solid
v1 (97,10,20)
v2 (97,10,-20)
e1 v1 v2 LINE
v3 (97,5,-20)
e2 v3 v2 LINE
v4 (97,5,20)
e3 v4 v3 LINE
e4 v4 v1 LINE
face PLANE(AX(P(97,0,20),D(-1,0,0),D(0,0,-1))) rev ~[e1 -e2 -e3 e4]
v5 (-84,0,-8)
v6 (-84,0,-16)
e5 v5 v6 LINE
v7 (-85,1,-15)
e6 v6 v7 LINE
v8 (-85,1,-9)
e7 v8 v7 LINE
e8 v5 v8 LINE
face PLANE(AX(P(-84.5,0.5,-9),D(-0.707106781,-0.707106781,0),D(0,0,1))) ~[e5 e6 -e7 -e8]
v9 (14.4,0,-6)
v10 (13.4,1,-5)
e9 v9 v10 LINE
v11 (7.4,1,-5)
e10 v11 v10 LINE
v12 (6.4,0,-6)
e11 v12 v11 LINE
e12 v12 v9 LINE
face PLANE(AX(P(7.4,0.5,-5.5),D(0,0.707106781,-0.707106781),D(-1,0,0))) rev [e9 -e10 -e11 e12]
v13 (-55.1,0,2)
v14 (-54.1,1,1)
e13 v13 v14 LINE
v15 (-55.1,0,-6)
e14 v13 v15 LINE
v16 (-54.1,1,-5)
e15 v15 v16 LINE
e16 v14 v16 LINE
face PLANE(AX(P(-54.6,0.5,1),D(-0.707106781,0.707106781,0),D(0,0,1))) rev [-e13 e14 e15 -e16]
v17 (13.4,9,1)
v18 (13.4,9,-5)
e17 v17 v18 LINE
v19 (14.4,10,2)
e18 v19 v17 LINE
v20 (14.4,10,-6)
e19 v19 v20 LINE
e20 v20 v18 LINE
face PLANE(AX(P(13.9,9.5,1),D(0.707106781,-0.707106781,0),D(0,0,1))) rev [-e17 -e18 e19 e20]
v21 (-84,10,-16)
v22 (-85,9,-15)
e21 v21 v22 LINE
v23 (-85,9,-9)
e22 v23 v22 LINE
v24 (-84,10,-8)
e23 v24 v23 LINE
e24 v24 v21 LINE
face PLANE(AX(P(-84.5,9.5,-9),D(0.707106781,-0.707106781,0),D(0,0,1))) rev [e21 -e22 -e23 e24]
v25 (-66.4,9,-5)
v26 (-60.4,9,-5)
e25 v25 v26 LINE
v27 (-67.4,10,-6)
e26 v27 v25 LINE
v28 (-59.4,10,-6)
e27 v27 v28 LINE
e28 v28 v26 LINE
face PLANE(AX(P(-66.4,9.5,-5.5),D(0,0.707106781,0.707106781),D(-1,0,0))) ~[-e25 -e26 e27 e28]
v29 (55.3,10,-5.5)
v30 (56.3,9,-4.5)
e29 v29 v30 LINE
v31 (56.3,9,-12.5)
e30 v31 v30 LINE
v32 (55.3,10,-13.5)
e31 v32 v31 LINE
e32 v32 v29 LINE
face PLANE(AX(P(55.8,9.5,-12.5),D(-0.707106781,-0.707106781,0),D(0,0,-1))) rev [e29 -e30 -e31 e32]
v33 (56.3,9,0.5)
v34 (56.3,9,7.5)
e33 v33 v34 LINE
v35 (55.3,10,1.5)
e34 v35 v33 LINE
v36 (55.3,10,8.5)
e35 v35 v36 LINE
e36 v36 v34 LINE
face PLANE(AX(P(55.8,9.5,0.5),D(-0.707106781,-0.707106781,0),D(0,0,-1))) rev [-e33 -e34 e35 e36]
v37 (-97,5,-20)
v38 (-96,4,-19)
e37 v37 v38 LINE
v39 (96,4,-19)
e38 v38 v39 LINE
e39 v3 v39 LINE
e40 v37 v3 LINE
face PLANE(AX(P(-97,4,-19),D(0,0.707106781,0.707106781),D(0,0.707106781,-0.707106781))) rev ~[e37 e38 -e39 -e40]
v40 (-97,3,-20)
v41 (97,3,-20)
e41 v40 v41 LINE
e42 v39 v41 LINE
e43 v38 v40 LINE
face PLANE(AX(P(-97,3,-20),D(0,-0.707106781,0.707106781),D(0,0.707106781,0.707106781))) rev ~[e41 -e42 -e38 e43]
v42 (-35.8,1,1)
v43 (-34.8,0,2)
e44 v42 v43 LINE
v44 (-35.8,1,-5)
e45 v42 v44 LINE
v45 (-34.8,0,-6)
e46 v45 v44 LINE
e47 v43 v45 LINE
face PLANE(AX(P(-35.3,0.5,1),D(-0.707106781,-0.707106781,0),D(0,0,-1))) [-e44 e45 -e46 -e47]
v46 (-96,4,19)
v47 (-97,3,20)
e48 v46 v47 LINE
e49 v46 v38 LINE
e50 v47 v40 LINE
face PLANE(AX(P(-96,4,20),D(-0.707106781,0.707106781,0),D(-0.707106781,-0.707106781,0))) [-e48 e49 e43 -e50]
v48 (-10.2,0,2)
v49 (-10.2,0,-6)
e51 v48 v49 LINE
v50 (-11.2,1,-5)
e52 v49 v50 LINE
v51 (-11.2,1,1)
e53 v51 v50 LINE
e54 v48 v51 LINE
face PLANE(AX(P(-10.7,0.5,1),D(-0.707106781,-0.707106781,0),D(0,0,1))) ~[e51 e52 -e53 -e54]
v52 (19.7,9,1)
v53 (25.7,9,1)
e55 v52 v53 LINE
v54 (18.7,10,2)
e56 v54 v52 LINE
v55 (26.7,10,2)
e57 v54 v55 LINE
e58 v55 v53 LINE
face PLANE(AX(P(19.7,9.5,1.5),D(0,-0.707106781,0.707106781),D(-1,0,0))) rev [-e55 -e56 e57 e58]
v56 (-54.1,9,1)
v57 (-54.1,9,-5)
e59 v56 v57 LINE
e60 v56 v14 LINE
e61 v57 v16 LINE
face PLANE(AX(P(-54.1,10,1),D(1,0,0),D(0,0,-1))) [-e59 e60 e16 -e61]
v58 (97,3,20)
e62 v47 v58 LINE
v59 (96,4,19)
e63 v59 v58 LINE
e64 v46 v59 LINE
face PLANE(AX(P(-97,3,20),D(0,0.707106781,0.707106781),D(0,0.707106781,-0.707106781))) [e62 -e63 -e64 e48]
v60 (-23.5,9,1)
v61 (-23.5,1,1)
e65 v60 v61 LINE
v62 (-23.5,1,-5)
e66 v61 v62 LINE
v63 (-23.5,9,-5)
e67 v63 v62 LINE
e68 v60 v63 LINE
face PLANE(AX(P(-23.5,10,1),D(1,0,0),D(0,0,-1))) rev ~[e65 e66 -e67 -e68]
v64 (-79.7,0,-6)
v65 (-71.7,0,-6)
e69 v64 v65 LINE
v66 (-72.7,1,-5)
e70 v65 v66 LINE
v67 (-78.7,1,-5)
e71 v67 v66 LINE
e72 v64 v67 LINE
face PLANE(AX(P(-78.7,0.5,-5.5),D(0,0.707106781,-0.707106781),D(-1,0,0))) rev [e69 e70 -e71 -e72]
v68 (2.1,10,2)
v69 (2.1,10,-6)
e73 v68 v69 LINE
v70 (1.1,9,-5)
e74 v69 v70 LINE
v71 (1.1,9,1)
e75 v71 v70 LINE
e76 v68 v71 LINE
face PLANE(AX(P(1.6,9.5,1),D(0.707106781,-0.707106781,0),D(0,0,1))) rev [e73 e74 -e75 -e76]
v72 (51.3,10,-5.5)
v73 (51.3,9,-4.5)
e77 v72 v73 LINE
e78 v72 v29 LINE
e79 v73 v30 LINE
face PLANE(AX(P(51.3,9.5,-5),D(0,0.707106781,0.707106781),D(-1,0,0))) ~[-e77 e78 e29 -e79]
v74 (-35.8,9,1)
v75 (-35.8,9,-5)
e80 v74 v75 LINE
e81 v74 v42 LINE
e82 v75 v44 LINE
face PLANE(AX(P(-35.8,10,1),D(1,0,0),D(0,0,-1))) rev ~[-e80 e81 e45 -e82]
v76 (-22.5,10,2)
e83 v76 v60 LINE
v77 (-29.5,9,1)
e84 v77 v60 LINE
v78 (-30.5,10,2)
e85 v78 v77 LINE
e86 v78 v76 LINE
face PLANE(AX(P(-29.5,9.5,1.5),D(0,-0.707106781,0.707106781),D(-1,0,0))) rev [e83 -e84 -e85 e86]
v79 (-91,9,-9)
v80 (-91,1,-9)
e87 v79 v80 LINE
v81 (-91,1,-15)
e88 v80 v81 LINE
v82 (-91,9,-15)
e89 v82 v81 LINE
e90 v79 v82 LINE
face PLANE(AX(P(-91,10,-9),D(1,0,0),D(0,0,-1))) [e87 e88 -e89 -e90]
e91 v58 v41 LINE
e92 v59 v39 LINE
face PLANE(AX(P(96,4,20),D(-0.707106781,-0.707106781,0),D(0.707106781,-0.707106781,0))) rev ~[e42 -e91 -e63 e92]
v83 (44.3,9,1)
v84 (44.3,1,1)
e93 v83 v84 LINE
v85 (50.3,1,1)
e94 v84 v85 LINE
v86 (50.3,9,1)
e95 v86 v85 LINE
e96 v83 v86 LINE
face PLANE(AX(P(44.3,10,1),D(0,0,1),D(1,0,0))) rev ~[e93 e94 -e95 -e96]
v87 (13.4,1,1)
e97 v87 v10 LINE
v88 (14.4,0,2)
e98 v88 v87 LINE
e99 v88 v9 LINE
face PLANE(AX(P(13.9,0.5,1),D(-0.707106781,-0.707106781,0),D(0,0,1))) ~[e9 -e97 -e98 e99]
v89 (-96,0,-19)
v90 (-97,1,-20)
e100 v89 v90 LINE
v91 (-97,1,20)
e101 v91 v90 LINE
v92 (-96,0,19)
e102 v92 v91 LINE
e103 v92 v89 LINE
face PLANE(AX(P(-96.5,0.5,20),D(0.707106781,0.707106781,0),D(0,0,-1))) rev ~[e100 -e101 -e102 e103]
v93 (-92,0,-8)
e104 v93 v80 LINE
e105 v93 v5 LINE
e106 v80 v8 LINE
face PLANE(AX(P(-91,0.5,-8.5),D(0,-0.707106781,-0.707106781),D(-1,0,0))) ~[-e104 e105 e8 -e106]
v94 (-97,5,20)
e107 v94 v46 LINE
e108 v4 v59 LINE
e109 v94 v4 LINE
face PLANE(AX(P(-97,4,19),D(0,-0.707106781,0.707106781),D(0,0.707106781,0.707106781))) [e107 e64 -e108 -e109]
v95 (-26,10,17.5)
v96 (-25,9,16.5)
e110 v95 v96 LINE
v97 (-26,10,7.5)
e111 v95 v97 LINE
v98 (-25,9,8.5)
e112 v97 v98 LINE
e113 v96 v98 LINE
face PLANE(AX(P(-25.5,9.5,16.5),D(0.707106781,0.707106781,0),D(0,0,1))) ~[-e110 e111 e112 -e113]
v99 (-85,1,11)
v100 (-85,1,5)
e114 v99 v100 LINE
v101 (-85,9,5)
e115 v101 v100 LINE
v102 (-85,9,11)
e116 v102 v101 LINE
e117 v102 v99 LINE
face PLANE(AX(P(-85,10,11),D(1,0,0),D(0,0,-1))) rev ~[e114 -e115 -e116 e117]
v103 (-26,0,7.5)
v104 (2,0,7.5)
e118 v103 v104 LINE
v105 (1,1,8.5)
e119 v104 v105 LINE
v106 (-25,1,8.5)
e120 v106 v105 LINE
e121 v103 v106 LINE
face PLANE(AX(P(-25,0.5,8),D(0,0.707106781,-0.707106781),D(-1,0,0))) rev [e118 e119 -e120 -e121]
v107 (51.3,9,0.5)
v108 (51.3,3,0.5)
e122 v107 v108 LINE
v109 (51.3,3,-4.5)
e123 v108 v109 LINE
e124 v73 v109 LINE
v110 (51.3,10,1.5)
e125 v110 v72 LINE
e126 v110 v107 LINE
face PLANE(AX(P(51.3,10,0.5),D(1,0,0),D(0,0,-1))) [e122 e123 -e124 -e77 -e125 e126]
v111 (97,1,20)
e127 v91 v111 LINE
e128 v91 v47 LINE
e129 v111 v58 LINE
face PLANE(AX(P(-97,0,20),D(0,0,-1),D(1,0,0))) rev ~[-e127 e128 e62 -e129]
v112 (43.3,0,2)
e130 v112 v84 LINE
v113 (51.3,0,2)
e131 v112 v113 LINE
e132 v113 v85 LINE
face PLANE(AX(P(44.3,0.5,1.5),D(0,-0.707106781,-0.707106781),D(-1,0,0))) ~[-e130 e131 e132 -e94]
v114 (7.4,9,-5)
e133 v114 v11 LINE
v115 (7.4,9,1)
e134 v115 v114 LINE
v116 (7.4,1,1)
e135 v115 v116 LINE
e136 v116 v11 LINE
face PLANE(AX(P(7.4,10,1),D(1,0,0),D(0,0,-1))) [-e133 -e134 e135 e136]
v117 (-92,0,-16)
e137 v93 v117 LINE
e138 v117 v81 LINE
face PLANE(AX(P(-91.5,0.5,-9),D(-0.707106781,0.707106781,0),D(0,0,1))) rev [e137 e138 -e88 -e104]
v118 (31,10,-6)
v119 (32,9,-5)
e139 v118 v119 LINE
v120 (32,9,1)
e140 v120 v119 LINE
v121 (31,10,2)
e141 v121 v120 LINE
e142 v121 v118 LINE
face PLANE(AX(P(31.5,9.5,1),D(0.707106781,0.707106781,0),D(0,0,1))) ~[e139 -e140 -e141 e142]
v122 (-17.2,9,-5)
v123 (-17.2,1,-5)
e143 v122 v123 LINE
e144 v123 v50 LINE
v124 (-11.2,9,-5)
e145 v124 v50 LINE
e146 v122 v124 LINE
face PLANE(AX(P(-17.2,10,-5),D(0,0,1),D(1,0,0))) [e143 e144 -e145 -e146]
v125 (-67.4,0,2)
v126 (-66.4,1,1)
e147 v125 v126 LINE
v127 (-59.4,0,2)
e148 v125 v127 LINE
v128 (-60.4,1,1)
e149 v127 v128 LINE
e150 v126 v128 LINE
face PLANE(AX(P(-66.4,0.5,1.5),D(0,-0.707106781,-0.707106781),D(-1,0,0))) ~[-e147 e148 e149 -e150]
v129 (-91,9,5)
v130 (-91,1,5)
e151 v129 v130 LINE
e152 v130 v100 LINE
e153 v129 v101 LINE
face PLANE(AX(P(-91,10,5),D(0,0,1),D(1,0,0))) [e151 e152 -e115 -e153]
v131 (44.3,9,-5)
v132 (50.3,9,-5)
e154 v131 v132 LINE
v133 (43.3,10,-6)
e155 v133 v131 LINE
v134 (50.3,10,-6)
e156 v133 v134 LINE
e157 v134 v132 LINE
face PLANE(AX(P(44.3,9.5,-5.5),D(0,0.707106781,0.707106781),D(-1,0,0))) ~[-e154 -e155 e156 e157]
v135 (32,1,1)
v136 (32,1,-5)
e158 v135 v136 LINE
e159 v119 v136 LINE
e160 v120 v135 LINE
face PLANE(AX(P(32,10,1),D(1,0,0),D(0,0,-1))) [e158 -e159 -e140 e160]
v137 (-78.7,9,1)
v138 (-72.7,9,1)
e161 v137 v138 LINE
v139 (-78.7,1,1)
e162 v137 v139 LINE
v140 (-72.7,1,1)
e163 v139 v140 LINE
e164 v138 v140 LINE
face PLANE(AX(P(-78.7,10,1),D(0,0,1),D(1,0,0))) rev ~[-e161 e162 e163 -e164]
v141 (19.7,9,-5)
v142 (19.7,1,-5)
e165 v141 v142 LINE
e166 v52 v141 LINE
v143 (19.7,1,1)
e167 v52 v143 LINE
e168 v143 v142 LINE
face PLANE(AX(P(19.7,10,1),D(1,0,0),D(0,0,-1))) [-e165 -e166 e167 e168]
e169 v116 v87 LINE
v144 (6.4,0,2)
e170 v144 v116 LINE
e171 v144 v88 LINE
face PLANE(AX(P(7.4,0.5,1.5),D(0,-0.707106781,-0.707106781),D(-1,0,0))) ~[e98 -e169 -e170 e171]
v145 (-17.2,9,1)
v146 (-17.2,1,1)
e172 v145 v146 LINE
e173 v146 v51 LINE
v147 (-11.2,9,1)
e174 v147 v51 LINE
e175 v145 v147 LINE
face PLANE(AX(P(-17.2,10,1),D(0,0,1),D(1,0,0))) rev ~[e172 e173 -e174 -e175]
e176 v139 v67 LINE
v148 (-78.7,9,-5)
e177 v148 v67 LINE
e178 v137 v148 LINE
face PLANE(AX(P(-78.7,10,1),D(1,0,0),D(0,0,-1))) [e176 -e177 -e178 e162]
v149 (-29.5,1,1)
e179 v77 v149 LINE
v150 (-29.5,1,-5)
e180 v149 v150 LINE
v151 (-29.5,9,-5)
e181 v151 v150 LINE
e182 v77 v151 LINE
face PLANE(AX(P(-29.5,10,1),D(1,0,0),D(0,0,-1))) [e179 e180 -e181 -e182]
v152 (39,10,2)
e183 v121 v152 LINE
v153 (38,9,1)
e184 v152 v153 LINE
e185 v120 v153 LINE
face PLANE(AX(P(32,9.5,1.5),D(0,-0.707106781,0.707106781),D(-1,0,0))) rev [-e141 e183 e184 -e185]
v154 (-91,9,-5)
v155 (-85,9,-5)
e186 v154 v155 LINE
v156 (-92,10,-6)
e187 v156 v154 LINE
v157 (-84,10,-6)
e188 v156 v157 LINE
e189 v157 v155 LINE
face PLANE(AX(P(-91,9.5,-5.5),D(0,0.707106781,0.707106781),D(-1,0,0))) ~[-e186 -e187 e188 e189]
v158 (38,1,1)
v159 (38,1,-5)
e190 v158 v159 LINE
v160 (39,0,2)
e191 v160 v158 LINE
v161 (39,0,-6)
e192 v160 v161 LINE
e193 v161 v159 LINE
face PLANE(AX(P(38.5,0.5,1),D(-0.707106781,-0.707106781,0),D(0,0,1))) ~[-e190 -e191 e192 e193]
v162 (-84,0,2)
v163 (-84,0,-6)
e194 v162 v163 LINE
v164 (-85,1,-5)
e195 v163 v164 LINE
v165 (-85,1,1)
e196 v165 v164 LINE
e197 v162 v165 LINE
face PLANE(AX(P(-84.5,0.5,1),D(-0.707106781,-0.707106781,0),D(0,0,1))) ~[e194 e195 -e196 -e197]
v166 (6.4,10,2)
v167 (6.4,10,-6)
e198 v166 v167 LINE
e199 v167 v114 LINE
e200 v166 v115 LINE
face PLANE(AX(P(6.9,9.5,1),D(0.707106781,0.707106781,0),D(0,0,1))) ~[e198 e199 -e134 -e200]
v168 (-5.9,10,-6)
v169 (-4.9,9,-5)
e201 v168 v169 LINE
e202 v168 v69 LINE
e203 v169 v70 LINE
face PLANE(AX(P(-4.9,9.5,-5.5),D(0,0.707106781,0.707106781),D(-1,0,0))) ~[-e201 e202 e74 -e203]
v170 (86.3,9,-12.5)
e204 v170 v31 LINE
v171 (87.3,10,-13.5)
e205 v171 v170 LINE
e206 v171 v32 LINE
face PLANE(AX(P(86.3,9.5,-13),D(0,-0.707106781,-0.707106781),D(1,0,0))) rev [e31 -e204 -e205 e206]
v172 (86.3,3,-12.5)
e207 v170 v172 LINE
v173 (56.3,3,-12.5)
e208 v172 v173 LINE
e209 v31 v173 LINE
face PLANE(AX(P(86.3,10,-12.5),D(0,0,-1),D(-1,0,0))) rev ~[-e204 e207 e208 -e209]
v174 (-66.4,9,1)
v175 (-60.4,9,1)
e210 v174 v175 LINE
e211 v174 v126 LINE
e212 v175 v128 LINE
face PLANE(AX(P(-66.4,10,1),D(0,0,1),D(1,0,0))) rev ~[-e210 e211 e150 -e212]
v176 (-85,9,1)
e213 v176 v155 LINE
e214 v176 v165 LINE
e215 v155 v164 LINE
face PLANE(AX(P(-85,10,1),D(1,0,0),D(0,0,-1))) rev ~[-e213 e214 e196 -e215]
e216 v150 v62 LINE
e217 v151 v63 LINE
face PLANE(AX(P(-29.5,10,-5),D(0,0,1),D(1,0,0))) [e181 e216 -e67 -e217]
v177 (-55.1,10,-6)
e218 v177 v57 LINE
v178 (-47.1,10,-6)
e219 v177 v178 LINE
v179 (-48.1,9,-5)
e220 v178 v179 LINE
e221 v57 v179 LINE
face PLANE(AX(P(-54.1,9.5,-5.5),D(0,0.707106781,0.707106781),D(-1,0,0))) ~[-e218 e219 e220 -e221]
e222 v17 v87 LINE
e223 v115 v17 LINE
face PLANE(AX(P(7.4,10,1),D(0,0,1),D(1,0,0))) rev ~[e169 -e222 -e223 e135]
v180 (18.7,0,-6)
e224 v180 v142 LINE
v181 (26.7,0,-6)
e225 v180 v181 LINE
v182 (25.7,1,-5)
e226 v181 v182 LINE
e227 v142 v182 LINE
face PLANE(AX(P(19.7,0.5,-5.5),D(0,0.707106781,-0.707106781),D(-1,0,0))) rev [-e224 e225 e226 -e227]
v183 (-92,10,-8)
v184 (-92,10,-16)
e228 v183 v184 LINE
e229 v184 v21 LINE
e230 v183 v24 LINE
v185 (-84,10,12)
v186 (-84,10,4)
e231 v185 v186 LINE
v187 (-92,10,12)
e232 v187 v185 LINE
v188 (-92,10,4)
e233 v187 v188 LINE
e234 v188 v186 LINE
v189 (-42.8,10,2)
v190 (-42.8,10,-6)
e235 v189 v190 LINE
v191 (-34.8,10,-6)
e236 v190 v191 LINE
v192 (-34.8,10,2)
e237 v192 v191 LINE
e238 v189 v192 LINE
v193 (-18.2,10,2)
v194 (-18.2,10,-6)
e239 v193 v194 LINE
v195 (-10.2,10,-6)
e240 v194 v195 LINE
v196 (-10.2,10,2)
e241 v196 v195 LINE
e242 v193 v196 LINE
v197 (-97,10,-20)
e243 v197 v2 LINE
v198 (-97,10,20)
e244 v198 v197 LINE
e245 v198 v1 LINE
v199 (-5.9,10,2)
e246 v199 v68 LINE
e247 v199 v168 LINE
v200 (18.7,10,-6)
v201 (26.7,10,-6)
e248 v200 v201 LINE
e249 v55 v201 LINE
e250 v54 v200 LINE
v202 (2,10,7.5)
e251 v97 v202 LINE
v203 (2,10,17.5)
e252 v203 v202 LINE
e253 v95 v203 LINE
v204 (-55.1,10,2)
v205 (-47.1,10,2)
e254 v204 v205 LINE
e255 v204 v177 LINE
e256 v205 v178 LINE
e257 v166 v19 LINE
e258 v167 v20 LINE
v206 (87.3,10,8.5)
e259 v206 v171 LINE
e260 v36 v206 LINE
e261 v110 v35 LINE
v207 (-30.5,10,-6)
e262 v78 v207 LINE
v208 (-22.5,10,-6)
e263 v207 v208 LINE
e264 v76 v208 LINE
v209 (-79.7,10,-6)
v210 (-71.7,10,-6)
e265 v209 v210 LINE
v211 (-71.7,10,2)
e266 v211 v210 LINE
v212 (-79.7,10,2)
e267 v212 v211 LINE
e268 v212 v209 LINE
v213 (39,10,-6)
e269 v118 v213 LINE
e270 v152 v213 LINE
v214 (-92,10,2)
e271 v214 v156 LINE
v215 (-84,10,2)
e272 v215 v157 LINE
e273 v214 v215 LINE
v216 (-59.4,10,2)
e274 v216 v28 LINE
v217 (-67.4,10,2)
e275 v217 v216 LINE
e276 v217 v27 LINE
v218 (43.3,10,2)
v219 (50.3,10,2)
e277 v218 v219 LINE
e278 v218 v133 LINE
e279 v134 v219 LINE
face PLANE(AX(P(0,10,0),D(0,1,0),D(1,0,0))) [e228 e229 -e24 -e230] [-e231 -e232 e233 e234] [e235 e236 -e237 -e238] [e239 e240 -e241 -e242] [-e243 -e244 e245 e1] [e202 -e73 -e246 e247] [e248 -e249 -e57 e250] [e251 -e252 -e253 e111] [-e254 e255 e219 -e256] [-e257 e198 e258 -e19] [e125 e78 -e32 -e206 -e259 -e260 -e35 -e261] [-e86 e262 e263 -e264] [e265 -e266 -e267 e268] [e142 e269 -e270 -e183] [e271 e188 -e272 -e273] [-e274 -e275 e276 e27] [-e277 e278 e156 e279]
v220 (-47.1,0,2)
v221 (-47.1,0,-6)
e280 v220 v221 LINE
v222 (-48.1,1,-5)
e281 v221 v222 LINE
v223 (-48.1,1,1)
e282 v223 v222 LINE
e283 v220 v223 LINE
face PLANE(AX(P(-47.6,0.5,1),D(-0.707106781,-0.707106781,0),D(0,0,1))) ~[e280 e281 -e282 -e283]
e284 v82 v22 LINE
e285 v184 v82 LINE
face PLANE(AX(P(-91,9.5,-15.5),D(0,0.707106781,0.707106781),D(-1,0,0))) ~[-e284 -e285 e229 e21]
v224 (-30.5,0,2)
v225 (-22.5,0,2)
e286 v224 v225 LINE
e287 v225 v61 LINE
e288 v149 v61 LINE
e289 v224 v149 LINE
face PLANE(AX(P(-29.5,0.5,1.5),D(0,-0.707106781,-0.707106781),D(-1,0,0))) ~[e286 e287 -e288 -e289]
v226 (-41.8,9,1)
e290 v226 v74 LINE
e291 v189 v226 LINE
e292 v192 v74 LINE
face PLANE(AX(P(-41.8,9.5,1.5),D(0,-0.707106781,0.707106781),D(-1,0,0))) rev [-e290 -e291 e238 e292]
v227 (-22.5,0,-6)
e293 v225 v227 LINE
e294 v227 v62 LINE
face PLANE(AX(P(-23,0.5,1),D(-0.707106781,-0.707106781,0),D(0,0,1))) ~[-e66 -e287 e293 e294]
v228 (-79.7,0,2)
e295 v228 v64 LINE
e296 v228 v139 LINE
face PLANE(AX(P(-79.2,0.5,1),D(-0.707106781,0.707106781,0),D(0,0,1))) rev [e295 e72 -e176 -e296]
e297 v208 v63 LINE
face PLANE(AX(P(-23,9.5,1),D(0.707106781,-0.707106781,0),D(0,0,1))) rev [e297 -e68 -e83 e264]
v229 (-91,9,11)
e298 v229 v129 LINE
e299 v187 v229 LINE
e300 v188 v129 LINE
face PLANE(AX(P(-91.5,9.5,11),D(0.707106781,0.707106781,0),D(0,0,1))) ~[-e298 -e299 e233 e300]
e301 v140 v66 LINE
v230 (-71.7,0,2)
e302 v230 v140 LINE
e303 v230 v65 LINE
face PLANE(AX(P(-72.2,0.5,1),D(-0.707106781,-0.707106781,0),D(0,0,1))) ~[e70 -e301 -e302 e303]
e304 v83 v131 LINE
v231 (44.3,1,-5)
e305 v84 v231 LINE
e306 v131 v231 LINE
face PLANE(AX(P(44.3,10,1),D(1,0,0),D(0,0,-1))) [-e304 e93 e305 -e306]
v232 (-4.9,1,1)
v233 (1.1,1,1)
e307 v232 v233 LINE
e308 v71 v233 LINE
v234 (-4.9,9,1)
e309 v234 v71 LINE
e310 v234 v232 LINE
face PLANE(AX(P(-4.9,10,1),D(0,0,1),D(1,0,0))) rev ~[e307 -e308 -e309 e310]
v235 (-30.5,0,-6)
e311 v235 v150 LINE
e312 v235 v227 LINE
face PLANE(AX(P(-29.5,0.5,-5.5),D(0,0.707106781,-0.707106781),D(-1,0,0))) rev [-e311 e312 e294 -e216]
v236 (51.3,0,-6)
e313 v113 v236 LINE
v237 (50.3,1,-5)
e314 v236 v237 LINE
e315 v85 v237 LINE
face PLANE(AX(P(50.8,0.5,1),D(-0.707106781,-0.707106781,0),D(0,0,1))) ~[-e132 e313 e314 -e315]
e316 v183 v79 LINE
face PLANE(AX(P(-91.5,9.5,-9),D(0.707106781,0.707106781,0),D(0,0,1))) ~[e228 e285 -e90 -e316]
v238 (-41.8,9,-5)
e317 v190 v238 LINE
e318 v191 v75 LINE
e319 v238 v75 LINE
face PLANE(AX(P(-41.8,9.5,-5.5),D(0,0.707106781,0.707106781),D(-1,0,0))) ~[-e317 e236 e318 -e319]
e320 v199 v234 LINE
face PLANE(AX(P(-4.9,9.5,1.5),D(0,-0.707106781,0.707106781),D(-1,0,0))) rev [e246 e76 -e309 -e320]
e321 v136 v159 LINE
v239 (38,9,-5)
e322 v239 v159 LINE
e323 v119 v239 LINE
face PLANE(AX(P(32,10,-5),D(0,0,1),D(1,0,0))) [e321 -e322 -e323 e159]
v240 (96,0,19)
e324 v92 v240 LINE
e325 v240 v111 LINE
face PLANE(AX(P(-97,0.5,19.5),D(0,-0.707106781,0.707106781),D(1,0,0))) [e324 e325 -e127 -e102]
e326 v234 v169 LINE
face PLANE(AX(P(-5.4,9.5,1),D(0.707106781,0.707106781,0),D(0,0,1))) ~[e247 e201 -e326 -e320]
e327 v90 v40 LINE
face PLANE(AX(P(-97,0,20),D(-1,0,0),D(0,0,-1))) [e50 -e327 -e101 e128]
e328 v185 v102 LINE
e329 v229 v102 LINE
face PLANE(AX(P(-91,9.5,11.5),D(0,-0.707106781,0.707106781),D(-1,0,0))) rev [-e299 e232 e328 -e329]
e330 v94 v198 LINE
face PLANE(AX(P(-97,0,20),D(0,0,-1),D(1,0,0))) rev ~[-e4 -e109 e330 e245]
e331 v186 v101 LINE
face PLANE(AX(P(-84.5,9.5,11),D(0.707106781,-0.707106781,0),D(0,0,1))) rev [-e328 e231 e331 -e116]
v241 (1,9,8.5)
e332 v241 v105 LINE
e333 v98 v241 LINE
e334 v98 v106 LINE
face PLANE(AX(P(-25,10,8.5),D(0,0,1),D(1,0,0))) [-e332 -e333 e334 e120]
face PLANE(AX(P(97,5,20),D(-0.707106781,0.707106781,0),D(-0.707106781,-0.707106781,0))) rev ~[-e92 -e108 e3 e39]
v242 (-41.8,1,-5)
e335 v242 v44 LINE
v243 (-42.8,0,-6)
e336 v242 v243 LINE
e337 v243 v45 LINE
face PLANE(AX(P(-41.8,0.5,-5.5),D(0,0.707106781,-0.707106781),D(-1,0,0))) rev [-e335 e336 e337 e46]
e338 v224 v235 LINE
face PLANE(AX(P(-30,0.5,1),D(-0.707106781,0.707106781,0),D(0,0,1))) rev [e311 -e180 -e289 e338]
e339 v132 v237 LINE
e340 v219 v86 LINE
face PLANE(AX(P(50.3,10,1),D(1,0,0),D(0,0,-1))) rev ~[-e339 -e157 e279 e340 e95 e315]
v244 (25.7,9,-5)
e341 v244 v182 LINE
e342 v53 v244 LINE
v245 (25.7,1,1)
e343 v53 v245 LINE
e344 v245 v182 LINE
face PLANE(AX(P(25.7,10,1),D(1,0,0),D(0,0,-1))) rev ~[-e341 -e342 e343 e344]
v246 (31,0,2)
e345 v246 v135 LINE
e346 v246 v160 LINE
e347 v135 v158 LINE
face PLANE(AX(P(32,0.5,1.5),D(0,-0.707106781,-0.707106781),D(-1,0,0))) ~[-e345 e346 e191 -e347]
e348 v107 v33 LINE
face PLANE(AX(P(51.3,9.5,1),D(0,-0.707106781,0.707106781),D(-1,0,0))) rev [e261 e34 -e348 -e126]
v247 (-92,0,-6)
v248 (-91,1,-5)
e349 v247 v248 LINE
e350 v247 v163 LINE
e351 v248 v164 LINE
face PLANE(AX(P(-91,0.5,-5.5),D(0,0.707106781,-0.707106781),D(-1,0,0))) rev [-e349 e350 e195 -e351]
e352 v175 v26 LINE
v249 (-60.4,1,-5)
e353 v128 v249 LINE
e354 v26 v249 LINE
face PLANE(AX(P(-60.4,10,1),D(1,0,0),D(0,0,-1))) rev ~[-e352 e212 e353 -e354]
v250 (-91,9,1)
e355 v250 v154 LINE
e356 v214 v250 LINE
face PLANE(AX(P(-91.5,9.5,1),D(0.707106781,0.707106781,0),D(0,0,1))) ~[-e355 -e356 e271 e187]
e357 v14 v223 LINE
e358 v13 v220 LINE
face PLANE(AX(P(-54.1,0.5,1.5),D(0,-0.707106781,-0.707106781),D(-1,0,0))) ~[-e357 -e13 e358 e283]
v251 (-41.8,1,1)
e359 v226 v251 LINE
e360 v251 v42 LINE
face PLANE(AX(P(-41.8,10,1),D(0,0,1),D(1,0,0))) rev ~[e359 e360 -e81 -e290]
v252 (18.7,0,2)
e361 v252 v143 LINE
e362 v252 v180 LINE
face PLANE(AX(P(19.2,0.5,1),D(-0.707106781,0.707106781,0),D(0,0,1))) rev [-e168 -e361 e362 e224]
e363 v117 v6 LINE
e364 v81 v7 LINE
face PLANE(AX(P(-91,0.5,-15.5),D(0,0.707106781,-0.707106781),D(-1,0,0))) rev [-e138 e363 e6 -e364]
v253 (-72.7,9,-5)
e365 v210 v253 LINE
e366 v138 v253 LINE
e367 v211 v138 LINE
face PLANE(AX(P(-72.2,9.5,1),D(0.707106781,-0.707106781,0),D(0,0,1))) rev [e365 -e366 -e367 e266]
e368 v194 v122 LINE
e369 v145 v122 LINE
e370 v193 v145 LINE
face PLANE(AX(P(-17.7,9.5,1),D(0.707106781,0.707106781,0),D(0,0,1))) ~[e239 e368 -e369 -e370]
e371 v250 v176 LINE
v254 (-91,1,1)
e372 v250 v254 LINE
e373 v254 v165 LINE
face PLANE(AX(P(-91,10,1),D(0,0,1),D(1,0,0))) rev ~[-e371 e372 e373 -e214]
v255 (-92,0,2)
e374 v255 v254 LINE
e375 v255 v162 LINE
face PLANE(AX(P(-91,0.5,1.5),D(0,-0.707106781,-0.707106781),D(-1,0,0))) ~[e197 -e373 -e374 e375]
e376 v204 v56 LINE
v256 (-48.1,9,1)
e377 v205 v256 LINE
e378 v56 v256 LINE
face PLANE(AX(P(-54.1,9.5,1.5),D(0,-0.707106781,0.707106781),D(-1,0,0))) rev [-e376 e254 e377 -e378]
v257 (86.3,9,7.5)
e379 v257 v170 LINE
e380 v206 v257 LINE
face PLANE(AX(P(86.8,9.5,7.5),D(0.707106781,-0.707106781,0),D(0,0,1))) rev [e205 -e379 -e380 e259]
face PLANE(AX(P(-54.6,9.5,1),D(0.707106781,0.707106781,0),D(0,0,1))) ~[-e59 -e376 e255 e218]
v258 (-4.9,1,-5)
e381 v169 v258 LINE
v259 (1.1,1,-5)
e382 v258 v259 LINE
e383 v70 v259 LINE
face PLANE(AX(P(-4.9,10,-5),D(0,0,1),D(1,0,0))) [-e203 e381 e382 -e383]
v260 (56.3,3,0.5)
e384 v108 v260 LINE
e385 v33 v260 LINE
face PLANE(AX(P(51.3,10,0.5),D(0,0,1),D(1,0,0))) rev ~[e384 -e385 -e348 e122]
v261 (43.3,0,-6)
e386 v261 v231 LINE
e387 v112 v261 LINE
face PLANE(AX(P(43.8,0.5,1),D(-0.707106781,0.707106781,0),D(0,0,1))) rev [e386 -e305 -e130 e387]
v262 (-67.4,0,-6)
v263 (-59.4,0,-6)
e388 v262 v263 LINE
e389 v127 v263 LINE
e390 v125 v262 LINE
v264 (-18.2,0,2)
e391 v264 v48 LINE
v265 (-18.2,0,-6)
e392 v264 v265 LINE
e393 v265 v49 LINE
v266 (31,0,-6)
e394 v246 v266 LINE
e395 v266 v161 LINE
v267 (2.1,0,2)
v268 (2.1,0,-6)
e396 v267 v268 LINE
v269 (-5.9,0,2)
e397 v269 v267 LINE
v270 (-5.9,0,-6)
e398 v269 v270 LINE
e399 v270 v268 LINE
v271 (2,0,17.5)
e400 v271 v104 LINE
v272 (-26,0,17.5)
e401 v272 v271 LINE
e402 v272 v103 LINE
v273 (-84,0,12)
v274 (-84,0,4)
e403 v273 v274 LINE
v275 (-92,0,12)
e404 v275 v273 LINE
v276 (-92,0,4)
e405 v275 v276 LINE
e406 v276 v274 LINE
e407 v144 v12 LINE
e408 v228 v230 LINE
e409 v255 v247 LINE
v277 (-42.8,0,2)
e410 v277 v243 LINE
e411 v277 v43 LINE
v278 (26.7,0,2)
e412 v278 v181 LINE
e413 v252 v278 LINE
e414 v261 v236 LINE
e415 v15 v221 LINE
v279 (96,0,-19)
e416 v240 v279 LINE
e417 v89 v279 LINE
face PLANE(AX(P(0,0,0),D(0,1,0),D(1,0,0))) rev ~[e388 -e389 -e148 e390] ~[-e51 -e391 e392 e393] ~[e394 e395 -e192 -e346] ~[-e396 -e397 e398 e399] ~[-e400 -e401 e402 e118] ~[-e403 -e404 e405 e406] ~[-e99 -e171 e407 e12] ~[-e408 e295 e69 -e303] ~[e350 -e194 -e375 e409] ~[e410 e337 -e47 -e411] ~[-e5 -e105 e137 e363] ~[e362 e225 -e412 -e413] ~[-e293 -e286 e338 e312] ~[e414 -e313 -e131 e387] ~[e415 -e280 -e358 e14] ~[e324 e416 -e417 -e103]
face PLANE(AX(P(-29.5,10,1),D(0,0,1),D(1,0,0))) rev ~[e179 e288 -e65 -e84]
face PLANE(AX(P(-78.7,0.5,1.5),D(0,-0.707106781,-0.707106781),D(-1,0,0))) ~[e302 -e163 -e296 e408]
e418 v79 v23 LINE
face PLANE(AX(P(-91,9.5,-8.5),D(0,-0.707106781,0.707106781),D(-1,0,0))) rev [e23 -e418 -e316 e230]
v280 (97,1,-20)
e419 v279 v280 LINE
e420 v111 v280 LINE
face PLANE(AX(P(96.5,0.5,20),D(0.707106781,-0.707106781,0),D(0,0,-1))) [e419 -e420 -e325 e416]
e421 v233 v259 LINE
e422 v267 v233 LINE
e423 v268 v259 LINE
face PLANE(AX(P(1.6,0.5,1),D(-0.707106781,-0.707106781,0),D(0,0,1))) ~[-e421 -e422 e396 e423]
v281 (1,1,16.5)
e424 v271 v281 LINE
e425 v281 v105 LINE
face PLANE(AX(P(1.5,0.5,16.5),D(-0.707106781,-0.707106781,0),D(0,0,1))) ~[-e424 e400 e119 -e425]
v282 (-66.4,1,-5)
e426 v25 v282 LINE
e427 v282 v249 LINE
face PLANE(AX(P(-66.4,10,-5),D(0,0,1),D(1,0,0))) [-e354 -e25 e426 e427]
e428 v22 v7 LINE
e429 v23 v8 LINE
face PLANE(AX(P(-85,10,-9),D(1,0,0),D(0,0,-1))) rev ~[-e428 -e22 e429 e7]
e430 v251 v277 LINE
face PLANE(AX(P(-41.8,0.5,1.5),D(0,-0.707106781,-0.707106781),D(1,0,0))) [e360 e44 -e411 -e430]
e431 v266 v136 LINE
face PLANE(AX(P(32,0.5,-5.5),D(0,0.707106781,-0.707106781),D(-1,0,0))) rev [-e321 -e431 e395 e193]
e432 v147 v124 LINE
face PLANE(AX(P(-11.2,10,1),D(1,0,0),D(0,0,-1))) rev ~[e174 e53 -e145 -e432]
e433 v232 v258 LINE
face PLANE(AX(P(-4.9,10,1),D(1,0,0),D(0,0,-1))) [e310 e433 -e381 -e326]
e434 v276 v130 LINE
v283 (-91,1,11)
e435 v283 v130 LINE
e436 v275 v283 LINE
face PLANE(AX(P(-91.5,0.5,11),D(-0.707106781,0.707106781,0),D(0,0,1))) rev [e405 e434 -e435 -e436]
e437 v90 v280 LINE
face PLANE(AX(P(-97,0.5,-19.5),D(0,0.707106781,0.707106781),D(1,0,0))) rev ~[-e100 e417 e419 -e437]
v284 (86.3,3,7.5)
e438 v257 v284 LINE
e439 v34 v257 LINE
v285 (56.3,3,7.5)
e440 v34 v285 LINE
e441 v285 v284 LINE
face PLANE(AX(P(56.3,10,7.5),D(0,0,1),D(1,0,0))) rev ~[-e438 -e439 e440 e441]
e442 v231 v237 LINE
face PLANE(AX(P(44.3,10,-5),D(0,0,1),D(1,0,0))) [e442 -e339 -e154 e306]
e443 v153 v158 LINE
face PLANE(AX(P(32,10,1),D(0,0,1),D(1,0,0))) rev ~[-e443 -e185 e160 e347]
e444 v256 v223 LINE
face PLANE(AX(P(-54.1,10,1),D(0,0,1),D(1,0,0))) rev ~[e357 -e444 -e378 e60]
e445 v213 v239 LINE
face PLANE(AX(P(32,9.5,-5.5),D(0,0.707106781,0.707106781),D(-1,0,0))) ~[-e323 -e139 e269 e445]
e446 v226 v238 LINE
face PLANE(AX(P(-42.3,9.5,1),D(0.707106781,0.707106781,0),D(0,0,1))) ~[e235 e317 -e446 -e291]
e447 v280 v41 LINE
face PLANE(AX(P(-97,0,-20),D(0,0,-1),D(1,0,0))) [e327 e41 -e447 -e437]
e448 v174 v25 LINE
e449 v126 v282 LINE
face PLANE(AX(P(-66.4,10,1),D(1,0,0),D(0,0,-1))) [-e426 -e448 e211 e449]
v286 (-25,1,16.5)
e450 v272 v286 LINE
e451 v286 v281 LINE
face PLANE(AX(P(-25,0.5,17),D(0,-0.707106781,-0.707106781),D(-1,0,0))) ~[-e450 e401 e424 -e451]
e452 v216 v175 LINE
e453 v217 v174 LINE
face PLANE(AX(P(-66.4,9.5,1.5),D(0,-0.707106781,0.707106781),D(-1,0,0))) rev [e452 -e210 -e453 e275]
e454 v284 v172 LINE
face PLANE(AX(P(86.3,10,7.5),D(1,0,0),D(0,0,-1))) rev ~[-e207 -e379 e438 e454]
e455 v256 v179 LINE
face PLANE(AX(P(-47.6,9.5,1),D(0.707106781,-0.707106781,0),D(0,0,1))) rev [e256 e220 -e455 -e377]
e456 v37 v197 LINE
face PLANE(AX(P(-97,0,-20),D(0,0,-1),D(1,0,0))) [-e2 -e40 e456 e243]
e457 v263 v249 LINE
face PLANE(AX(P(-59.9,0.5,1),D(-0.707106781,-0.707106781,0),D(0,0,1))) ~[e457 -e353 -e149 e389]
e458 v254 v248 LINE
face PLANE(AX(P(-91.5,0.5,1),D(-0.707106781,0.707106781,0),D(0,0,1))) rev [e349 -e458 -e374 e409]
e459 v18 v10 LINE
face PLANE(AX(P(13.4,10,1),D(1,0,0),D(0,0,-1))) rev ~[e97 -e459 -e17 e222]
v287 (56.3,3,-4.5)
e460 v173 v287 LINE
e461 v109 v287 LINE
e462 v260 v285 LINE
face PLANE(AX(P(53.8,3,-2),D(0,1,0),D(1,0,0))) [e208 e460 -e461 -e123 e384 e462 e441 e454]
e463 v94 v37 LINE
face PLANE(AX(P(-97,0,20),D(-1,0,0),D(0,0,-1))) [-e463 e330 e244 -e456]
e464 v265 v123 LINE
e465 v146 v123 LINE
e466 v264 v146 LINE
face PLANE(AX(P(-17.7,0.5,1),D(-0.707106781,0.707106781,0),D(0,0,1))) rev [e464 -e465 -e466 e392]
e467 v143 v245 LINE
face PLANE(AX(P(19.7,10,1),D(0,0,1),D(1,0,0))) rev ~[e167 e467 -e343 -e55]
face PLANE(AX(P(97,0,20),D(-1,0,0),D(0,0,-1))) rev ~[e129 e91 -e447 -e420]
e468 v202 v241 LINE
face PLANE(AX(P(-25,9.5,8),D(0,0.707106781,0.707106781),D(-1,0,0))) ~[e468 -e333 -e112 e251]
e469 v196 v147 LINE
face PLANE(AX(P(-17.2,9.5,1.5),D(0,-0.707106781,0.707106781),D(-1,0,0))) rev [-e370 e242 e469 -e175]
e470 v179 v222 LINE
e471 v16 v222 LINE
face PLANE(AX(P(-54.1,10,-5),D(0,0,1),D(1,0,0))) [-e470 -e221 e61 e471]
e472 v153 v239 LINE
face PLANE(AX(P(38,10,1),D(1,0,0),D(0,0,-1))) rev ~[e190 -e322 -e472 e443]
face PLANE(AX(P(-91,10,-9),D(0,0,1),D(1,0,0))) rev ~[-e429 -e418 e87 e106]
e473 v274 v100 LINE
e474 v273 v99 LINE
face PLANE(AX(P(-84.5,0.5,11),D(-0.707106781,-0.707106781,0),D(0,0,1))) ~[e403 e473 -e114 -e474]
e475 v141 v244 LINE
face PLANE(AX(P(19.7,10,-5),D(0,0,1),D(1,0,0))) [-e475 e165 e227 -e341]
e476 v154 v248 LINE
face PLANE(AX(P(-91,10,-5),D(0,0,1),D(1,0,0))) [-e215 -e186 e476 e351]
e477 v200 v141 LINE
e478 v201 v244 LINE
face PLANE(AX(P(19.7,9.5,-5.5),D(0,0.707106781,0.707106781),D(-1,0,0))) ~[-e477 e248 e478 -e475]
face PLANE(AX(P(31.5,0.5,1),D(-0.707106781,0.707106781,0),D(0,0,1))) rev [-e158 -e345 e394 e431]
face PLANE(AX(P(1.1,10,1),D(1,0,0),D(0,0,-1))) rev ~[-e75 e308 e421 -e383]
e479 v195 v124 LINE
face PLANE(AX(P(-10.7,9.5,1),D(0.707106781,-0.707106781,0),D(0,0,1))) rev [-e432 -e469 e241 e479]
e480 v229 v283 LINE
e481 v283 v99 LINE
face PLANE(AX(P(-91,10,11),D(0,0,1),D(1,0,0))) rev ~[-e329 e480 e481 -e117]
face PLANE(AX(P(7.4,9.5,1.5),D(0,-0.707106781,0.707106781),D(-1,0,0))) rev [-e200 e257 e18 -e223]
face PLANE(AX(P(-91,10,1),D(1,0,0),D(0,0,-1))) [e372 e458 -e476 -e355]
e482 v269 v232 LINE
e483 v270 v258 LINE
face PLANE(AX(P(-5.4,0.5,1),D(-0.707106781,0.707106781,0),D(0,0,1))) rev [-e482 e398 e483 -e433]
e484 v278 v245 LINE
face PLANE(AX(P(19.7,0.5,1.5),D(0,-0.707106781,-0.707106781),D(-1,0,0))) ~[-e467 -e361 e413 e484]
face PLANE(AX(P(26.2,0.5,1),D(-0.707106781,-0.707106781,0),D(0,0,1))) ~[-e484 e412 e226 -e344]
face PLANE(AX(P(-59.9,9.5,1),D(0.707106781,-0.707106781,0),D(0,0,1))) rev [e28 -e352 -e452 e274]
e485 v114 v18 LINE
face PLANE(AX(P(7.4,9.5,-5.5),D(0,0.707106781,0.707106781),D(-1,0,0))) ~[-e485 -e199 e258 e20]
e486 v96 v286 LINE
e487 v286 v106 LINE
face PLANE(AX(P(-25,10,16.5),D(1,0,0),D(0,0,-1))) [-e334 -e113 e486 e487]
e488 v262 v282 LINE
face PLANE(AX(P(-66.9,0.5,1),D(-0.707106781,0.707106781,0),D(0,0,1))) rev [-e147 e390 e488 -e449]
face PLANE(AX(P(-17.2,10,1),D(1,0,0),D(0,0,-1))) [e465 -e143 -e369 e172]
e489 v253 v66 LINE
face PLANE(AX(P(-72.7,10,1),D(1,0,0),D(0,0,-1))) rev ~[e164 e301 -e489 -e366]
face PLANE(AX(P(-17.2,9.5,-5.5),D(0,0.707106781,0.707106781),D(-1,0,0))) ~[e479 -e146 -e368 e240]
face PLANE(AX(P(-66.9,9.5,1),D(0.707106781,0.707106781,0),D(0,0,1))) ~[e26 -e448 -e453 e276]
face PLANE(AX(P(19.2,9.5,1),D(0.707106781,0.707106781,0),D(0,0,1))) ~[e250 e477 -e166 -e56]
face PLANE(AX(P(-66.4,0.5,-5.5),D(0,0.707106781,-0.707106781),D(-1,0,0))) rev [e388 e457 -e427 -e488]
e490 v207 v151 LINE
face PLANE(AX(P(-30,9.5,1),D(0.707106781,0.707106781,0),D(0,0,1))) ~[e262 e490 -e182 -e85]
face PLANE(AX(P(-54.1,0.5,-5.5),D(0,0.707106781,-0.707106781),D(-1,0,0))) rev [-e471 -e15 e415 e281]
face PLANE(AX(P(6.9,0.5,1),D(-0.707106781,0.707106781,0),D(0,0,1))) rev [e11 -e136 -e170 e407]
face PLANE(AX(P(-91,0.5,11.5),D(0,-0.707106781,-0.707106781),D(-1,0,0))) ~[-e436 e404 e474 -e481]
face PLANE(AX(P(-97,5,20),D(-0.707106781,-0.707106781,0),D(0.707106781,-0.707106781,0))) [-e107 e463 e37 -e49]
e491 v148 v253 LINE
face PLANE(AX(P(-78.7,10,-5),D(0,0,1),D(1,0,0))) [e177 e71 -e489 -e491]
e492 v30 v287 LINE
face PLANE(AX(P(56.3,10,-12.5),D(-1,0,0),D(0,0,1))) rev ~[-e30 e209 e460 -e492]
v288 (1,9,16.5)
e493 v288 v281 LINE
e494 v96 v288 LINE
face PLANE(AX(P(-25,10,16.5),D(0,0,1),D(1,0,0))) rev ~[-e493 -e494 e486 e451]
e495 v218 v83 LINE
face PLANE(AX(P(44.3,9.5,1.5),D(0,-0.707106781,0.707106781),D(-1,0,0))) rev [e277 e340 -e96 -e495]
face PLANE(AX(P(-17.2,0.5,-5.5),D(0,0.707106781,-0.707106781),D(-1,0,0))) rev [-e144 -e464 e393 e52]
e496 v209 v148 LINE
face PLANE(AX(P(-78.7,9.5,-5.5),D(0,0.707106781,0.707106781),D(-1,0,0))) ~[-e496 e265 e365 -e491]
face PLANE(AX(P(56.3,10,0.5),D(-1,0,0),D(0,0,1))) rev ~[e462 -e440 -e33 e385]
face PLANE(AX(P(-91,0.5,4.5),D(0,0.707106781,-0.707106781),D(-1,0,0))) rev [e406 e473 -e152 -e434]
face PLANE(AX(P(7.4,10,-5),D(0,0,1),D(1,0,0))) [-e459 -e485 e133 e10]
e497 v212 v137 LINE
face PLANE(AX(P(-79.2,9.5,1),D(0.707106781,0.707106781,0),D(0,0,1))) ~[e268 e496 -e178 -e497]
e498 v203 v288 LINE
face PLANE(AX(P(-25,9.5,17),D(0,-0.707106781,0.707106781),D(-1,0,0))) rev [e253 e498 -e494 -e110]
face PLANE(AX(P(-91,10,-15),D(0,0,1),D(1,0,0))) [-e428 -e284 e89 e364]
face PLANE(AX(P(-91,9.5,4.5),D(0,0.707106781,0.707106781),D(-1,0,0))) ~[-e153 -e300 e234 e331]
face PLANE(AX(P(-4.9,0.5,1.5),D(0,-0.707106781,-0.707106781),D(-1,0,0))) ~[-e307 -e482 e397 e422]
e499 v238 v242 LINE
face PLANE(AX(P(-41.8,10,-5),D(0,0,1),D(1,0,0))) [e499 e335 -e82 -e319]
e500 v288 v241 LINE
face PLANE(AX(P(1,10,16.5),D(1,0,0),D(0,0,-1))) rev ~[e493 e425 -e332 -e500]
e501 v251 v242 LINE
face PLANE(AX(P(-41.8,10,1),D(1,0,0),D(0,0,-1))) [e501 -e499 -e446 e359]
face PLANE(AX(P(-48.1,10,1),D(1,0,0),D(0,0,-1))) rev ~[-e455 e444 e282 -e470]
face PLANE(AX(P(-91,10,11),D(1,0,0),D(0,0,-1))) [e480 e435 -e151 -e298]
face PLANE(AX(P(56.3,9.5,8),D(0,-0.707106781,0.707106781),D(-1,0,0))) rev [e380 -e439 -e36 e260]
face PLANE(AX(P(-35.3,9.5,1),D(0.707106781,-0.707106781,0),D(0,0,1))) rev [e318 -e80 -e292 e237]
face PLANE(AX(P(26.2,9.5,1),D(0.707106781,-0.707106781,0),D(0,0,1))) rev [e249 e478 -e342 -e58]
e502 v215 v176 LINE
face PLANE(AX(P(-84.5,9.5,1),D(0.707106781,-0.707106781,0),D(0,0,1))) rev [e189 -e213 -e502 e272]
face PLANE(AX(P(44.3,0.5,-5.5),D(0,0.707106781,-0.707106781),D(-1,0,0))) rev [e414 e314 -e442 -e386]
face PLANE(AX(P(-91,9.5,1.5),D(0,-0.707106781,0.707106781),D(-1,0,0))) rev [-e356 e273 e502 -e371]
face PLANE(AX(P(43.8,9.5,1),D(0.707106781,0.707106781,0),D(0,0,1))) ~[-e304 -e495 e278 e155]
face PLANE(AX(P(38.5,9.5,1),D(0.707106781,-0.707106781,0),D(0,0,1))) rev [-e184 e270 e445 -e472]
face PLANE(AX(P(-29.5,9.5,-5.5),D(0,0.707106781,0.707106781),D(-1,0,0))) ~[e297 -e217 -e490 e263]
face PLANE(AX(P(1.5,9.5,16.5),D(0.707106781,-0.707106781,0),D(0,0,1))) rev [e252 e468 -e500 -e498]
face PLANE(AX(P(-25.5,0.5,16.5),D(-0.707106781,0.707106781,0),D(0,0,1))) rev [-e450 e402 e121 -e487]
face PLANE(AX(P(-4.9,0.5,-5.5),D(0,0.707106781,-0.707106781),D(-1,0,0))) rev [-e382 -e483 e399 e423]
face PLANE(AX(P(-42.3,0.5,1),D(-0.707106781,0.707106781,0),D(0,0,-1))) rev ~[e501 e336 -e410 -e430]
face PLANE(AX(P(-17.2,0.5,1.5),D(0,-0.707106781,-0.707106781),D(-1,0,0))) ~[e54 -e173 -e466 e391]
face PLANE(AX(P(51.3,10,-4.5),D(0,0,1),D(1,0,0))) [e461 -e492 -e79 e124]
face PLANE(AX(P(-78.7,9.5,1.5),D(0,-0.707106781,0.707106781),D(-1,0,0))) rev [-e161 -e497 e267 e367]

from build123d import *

# Parameters (mm, degrees)
SKETCH1_W           = 194
SKETCH1_H           = 40
BOSS_EXTRUDE1_DEPTH = 10
SKETCH3_W           = 6
SKETCH3_H           = 6
SKETCH3_W_2         = 26
SKETCH3_H_2         = 8
CUT_EXTRUDE1_DEPTH  = 11
CHAMFER1_SIZE       = 1
CHAMFER2_SIZE       = 1
SKETCH4_W           = 5
SKETCH4_H           = 5
CUT_EXTRUDE2_DEPTH  = 7
CHAMFER3_SIZE       = 1
CUT_EXTRUDE4_DEPTH  = 195
CUT_EXTRUDE5_DEPTH  = 41


with BuildPart() as part:
    # Sketch1 → Boss-Extrude1 (new body)
    with BuildSketch(Plane(origin=(0, 0, 0), x_dir=(1, 0, 0), z_dir=(0, 1, 0))):
        Rectangle(SKETCH1_W, SKETCH1_H)
    extrude(amount=BOSS_EXTRUDE1_DEPTH)

    # Sketch3 → Cut-Extrude1 (cut, through all)
    with BuildSketch(Plane(origin=(0, 10, 0), x_dir=(1, 0, 0), z_dir=(0, 1, 0))):
        with Locations((-88, 2)):
            Rectangle(SKETCH3_W, SKETCH3_H)
        with Locations((-75.7, 2)):
            Rectangle(SKETCH3_W, SKETCH3_H)
        with Locations((-63.4, 2)):
            Rectangle(SKETCH3_W, SKETCH3_H)
        with Locations((-51.1, 2)):
            Rectangle(SKETCH3_W, SKETCH3_H)
        with Locations((-38.8, 2)):
            Rectangle(SKETCH3_W, SKETCH3_H)
        with Locations((-26.5, 2)):
            Rectangle(SKETCH3_W, SKETCH3_H)
        with Locations((-14.2, 2)):
            Rectangle(SKETCH3_W, SKETCH3_H)
        with Locations((-1.9, 2)):
            Rectangle(SKETCH3_W, SKETCH3_H)
        with Locations((10.4, 2)):
            Rectangle(SKETCH3_W, SKETCH3_H)
        with Locations((22.7, 2)):
            Rectangle(SKETCH3_W, SKETCH3_H)
        with Locations((35, 2)):
            Rectangle(SKETCH3_W, SKETCH3_H)
        with Locations((47.3, 2)):
            Rectangle(SKETCH3_W, SKETCH3_H)
        with Locations((-88, 12)):
            Rectangle(SKETCH3_W, SKETCH3_H)
        with Locations((-88, -8)):
            Rectangle(SKETCH3_W, SKETCH3_H)
        with Locations((-12, -12.5)):
            Rectangle(SKETCH3_W_2, SKETCH3_H_2)
    extrude(amount=-CUT_EXTRUDE1_DEPTH, mode=Mode.SUBTRACT)

    # Chamfer1
    chamfer1_edges = [part.edges().sort_by_distance(p)[0] for p in [
        (-26.5, 10, -5),
        (-29.5, 10, -2),
        (-14.2, 10, 1),
        (-11.2, 10, -2),
        (-14.2, 10, -5),
        (-17.2, 10, -2),
        (-1.9, 10, 1),
        (1.1, 10, -2),
        (-1.9, 10, -5),
        (-4.9, 10, -2),
        (10.4, 10, 1),
        (13.4, 10, -2),
        (10.4, 10, -5),
        (7.4, 10, -2),
        (1, 10, 12.5),
        (-12, 10, 8.5),
        (-25, 10, 12.5),
        (-12, 10, 16.5),
        (-88, 10, -9),
        (-85, 10, -12),
        (-88, 10, -15),
        (-91, 10, -12),
        (22.7, 10, 1),
        (25.7, 10, -2),
        (22.7, 10, -5),
        (19.7, 10, -2),
        (35, 10, 1),
        (38, 10, -2),
        (35, 10, -5),
        (32, 10, -2),
        (47.3, 10, 1),
        (47.3, 10, -5),
        (44.3, 10, -2),
        (-88, 10, 11),
        (-85, 10, 8),
        (-88, 10, 5),
        (-91, 10, 8),
        (-85, 10, -2),
        (-88, 10, -5),
        (-91, 10, -2),
        (-88, 10, 1),
        (-75.7, 10, 1),
        (-72.7, 10, -2),
        (-75.7, 10, -5),
        (-78.7, 10, -2),
        (-63.4, 10, 1),
        (-60.4, 10, -2),
        (-63.4, 10, -5),
        (-66.4, 10, -2),
        (-51.1, 10, 1),
        (-48.1, 10, -2),
        (-51.1, 10, -5),
        (-54.1, 10, -2),
        (-38.8, 10, 1),
        (-35.8, 10, -2),
        (-38.8, 10, -5),
        (-41.8, 10, -2),
        (-26.5, 10, 1),
        (-23.5, 10, -2),
    ]]
    chamfer(chamfer1_edges, length=CHAMFER1_SIZE)

    # Chamfer2
    chamfer2_edges = [part.edges().sort_by_distance(p)[0] for p in [
        (-14.2, 0, 1),
        (-17.2, 0, -2),
        (-14.2, 0, -5),
        (-11.2, 0, -2),
        (-1.9, 0, 1),
        (-4.9, 0, -2),
        (-1.9, 0, -5),
        (1.1, 0, -2),
        (10.4, 0, 1),
        (7.4, 0, -2),
        (10.4, 0, -5),
        (13.4, 0, -2),
        (1, 0, 12.5),
        (-12, 0, 16.5),
        (-25, 0, 12.5),
        (-12, 0, 8.5),
        (-88, 0, -9),
        (-91, 0, -12),
        (-88, 0, -15),
        (-85, 0, -12),
        (22.7, 0, 1),
        (19.7, 0, -2),
        (22.7, 0, -5),
        (25.7, 0, -2),
        (35, 0, 1),
        (32, 0, -2),
        (35, 0, -5),
        (38, 0, -2),
        (47.3, 0, 1),
        (44.3, 0, -2),
        (47.3, 0, -5),
        (50.3, 0, -2),
        (-88, 0, 11),
        (-91, 0, 8),
        (-88, 0, 5),
        (-85, 0, 8),
        (-85, 0, -2),
        (-88, 0, 1),
        (-91, 0, -2),
        (-88, 0, -5),
        (0, 0, 20),
        (-97, 0, 0),
        (0, 0, -20),
        (97, 0, 0),
        (-75.7, 0, 1),
        (-78.7, 0, -2),
        (-75.7, 0, -5),
        (-72.7, 0, -2),
        (-63.4, 0, 1),
        (-66.4, 0, -2),
        (-63.4, 0, -5),
        (-60.4, 0, -2),
        (-51.1, 0, 1),
        (-54.1, 0, -2),
        (-51.1, 0, -5),
        (-48.1, 0, -2),
        (-38.8, 0, 1),
        (-41.8, 0, -2),
        (-38.8, 0, -5),
        (-35.8, 0, -2),
        (-26.5, 0, 1),
        (-29.5, 0, -2),
        (-26.5, 0, -5),
        (-23.5, 0, -2),
    ]]
    chamfer(chamfer2_edges, length=CHAMFER2_SIZE)

    # Sketch4 → Cut-Extrude2 (cut)
    with BuildSketch(Plane(origin=(0, 10, 0), x_dir=(1, 0, 0), z_dir=(0, 1, 0))):
        with Locations((53.8, 2)):
            Rectangle(SKETCH4_W, SKETCH4_H)
        Polygon((56.3, 12.5), (56.3, 4.5), (56.3, -0.5), (56.3, -7.5), (86.3, -7.5), (86.3, 12.5), align=None)
    extrude(amount=-CUT_EXTRUDE2_DEPTH, mode=Mode.SUBTRACT)

    # Chamfer3
    chamfer3_edges = [part.edges().sort_by_distance(p)[0] for p in [
        (53.8, 10, -4.5),
        (71.3, 10, -12.5),
        (86.3, 10, -2.5),
        (53.8, 10, 0.5),
        (56.3, 10, 4),
        (71.3, 10, 7.5),
        (56.3, 10, -8.5),
    ]]
    chamfer(chamfer3_edges, length=CHAMFER3_SIZE)

    # Sketch6 → Cut-Extrude4 (cut, through all)
    with BuildSketch(Plane.ZY.offset(97)):
        Polygon((-20, 5), (-20, 3), (-19, 4), align=None)
        Polygon((19, 4), (20, 5), (20, 3), align=None)
    extrude(amount=-CUT_EXTRUDE4_DEPTH, mode=Mode.SUBTRACT)

    # Sketch7 → Cut-Extrude5 (cut, through all)
    with BuildSketch(Plane.XY.offset(20)):
        Polygon((-97, 5), (-96, 4), (-97, 3), align=None)
        Polygon((96, 4), (97, 3), (97, 5), align=None)
    extrude(amount=-CUT_EXTRUDE5_DEPTH, mode=Mode.SUBTRACT)


solid = part.part
